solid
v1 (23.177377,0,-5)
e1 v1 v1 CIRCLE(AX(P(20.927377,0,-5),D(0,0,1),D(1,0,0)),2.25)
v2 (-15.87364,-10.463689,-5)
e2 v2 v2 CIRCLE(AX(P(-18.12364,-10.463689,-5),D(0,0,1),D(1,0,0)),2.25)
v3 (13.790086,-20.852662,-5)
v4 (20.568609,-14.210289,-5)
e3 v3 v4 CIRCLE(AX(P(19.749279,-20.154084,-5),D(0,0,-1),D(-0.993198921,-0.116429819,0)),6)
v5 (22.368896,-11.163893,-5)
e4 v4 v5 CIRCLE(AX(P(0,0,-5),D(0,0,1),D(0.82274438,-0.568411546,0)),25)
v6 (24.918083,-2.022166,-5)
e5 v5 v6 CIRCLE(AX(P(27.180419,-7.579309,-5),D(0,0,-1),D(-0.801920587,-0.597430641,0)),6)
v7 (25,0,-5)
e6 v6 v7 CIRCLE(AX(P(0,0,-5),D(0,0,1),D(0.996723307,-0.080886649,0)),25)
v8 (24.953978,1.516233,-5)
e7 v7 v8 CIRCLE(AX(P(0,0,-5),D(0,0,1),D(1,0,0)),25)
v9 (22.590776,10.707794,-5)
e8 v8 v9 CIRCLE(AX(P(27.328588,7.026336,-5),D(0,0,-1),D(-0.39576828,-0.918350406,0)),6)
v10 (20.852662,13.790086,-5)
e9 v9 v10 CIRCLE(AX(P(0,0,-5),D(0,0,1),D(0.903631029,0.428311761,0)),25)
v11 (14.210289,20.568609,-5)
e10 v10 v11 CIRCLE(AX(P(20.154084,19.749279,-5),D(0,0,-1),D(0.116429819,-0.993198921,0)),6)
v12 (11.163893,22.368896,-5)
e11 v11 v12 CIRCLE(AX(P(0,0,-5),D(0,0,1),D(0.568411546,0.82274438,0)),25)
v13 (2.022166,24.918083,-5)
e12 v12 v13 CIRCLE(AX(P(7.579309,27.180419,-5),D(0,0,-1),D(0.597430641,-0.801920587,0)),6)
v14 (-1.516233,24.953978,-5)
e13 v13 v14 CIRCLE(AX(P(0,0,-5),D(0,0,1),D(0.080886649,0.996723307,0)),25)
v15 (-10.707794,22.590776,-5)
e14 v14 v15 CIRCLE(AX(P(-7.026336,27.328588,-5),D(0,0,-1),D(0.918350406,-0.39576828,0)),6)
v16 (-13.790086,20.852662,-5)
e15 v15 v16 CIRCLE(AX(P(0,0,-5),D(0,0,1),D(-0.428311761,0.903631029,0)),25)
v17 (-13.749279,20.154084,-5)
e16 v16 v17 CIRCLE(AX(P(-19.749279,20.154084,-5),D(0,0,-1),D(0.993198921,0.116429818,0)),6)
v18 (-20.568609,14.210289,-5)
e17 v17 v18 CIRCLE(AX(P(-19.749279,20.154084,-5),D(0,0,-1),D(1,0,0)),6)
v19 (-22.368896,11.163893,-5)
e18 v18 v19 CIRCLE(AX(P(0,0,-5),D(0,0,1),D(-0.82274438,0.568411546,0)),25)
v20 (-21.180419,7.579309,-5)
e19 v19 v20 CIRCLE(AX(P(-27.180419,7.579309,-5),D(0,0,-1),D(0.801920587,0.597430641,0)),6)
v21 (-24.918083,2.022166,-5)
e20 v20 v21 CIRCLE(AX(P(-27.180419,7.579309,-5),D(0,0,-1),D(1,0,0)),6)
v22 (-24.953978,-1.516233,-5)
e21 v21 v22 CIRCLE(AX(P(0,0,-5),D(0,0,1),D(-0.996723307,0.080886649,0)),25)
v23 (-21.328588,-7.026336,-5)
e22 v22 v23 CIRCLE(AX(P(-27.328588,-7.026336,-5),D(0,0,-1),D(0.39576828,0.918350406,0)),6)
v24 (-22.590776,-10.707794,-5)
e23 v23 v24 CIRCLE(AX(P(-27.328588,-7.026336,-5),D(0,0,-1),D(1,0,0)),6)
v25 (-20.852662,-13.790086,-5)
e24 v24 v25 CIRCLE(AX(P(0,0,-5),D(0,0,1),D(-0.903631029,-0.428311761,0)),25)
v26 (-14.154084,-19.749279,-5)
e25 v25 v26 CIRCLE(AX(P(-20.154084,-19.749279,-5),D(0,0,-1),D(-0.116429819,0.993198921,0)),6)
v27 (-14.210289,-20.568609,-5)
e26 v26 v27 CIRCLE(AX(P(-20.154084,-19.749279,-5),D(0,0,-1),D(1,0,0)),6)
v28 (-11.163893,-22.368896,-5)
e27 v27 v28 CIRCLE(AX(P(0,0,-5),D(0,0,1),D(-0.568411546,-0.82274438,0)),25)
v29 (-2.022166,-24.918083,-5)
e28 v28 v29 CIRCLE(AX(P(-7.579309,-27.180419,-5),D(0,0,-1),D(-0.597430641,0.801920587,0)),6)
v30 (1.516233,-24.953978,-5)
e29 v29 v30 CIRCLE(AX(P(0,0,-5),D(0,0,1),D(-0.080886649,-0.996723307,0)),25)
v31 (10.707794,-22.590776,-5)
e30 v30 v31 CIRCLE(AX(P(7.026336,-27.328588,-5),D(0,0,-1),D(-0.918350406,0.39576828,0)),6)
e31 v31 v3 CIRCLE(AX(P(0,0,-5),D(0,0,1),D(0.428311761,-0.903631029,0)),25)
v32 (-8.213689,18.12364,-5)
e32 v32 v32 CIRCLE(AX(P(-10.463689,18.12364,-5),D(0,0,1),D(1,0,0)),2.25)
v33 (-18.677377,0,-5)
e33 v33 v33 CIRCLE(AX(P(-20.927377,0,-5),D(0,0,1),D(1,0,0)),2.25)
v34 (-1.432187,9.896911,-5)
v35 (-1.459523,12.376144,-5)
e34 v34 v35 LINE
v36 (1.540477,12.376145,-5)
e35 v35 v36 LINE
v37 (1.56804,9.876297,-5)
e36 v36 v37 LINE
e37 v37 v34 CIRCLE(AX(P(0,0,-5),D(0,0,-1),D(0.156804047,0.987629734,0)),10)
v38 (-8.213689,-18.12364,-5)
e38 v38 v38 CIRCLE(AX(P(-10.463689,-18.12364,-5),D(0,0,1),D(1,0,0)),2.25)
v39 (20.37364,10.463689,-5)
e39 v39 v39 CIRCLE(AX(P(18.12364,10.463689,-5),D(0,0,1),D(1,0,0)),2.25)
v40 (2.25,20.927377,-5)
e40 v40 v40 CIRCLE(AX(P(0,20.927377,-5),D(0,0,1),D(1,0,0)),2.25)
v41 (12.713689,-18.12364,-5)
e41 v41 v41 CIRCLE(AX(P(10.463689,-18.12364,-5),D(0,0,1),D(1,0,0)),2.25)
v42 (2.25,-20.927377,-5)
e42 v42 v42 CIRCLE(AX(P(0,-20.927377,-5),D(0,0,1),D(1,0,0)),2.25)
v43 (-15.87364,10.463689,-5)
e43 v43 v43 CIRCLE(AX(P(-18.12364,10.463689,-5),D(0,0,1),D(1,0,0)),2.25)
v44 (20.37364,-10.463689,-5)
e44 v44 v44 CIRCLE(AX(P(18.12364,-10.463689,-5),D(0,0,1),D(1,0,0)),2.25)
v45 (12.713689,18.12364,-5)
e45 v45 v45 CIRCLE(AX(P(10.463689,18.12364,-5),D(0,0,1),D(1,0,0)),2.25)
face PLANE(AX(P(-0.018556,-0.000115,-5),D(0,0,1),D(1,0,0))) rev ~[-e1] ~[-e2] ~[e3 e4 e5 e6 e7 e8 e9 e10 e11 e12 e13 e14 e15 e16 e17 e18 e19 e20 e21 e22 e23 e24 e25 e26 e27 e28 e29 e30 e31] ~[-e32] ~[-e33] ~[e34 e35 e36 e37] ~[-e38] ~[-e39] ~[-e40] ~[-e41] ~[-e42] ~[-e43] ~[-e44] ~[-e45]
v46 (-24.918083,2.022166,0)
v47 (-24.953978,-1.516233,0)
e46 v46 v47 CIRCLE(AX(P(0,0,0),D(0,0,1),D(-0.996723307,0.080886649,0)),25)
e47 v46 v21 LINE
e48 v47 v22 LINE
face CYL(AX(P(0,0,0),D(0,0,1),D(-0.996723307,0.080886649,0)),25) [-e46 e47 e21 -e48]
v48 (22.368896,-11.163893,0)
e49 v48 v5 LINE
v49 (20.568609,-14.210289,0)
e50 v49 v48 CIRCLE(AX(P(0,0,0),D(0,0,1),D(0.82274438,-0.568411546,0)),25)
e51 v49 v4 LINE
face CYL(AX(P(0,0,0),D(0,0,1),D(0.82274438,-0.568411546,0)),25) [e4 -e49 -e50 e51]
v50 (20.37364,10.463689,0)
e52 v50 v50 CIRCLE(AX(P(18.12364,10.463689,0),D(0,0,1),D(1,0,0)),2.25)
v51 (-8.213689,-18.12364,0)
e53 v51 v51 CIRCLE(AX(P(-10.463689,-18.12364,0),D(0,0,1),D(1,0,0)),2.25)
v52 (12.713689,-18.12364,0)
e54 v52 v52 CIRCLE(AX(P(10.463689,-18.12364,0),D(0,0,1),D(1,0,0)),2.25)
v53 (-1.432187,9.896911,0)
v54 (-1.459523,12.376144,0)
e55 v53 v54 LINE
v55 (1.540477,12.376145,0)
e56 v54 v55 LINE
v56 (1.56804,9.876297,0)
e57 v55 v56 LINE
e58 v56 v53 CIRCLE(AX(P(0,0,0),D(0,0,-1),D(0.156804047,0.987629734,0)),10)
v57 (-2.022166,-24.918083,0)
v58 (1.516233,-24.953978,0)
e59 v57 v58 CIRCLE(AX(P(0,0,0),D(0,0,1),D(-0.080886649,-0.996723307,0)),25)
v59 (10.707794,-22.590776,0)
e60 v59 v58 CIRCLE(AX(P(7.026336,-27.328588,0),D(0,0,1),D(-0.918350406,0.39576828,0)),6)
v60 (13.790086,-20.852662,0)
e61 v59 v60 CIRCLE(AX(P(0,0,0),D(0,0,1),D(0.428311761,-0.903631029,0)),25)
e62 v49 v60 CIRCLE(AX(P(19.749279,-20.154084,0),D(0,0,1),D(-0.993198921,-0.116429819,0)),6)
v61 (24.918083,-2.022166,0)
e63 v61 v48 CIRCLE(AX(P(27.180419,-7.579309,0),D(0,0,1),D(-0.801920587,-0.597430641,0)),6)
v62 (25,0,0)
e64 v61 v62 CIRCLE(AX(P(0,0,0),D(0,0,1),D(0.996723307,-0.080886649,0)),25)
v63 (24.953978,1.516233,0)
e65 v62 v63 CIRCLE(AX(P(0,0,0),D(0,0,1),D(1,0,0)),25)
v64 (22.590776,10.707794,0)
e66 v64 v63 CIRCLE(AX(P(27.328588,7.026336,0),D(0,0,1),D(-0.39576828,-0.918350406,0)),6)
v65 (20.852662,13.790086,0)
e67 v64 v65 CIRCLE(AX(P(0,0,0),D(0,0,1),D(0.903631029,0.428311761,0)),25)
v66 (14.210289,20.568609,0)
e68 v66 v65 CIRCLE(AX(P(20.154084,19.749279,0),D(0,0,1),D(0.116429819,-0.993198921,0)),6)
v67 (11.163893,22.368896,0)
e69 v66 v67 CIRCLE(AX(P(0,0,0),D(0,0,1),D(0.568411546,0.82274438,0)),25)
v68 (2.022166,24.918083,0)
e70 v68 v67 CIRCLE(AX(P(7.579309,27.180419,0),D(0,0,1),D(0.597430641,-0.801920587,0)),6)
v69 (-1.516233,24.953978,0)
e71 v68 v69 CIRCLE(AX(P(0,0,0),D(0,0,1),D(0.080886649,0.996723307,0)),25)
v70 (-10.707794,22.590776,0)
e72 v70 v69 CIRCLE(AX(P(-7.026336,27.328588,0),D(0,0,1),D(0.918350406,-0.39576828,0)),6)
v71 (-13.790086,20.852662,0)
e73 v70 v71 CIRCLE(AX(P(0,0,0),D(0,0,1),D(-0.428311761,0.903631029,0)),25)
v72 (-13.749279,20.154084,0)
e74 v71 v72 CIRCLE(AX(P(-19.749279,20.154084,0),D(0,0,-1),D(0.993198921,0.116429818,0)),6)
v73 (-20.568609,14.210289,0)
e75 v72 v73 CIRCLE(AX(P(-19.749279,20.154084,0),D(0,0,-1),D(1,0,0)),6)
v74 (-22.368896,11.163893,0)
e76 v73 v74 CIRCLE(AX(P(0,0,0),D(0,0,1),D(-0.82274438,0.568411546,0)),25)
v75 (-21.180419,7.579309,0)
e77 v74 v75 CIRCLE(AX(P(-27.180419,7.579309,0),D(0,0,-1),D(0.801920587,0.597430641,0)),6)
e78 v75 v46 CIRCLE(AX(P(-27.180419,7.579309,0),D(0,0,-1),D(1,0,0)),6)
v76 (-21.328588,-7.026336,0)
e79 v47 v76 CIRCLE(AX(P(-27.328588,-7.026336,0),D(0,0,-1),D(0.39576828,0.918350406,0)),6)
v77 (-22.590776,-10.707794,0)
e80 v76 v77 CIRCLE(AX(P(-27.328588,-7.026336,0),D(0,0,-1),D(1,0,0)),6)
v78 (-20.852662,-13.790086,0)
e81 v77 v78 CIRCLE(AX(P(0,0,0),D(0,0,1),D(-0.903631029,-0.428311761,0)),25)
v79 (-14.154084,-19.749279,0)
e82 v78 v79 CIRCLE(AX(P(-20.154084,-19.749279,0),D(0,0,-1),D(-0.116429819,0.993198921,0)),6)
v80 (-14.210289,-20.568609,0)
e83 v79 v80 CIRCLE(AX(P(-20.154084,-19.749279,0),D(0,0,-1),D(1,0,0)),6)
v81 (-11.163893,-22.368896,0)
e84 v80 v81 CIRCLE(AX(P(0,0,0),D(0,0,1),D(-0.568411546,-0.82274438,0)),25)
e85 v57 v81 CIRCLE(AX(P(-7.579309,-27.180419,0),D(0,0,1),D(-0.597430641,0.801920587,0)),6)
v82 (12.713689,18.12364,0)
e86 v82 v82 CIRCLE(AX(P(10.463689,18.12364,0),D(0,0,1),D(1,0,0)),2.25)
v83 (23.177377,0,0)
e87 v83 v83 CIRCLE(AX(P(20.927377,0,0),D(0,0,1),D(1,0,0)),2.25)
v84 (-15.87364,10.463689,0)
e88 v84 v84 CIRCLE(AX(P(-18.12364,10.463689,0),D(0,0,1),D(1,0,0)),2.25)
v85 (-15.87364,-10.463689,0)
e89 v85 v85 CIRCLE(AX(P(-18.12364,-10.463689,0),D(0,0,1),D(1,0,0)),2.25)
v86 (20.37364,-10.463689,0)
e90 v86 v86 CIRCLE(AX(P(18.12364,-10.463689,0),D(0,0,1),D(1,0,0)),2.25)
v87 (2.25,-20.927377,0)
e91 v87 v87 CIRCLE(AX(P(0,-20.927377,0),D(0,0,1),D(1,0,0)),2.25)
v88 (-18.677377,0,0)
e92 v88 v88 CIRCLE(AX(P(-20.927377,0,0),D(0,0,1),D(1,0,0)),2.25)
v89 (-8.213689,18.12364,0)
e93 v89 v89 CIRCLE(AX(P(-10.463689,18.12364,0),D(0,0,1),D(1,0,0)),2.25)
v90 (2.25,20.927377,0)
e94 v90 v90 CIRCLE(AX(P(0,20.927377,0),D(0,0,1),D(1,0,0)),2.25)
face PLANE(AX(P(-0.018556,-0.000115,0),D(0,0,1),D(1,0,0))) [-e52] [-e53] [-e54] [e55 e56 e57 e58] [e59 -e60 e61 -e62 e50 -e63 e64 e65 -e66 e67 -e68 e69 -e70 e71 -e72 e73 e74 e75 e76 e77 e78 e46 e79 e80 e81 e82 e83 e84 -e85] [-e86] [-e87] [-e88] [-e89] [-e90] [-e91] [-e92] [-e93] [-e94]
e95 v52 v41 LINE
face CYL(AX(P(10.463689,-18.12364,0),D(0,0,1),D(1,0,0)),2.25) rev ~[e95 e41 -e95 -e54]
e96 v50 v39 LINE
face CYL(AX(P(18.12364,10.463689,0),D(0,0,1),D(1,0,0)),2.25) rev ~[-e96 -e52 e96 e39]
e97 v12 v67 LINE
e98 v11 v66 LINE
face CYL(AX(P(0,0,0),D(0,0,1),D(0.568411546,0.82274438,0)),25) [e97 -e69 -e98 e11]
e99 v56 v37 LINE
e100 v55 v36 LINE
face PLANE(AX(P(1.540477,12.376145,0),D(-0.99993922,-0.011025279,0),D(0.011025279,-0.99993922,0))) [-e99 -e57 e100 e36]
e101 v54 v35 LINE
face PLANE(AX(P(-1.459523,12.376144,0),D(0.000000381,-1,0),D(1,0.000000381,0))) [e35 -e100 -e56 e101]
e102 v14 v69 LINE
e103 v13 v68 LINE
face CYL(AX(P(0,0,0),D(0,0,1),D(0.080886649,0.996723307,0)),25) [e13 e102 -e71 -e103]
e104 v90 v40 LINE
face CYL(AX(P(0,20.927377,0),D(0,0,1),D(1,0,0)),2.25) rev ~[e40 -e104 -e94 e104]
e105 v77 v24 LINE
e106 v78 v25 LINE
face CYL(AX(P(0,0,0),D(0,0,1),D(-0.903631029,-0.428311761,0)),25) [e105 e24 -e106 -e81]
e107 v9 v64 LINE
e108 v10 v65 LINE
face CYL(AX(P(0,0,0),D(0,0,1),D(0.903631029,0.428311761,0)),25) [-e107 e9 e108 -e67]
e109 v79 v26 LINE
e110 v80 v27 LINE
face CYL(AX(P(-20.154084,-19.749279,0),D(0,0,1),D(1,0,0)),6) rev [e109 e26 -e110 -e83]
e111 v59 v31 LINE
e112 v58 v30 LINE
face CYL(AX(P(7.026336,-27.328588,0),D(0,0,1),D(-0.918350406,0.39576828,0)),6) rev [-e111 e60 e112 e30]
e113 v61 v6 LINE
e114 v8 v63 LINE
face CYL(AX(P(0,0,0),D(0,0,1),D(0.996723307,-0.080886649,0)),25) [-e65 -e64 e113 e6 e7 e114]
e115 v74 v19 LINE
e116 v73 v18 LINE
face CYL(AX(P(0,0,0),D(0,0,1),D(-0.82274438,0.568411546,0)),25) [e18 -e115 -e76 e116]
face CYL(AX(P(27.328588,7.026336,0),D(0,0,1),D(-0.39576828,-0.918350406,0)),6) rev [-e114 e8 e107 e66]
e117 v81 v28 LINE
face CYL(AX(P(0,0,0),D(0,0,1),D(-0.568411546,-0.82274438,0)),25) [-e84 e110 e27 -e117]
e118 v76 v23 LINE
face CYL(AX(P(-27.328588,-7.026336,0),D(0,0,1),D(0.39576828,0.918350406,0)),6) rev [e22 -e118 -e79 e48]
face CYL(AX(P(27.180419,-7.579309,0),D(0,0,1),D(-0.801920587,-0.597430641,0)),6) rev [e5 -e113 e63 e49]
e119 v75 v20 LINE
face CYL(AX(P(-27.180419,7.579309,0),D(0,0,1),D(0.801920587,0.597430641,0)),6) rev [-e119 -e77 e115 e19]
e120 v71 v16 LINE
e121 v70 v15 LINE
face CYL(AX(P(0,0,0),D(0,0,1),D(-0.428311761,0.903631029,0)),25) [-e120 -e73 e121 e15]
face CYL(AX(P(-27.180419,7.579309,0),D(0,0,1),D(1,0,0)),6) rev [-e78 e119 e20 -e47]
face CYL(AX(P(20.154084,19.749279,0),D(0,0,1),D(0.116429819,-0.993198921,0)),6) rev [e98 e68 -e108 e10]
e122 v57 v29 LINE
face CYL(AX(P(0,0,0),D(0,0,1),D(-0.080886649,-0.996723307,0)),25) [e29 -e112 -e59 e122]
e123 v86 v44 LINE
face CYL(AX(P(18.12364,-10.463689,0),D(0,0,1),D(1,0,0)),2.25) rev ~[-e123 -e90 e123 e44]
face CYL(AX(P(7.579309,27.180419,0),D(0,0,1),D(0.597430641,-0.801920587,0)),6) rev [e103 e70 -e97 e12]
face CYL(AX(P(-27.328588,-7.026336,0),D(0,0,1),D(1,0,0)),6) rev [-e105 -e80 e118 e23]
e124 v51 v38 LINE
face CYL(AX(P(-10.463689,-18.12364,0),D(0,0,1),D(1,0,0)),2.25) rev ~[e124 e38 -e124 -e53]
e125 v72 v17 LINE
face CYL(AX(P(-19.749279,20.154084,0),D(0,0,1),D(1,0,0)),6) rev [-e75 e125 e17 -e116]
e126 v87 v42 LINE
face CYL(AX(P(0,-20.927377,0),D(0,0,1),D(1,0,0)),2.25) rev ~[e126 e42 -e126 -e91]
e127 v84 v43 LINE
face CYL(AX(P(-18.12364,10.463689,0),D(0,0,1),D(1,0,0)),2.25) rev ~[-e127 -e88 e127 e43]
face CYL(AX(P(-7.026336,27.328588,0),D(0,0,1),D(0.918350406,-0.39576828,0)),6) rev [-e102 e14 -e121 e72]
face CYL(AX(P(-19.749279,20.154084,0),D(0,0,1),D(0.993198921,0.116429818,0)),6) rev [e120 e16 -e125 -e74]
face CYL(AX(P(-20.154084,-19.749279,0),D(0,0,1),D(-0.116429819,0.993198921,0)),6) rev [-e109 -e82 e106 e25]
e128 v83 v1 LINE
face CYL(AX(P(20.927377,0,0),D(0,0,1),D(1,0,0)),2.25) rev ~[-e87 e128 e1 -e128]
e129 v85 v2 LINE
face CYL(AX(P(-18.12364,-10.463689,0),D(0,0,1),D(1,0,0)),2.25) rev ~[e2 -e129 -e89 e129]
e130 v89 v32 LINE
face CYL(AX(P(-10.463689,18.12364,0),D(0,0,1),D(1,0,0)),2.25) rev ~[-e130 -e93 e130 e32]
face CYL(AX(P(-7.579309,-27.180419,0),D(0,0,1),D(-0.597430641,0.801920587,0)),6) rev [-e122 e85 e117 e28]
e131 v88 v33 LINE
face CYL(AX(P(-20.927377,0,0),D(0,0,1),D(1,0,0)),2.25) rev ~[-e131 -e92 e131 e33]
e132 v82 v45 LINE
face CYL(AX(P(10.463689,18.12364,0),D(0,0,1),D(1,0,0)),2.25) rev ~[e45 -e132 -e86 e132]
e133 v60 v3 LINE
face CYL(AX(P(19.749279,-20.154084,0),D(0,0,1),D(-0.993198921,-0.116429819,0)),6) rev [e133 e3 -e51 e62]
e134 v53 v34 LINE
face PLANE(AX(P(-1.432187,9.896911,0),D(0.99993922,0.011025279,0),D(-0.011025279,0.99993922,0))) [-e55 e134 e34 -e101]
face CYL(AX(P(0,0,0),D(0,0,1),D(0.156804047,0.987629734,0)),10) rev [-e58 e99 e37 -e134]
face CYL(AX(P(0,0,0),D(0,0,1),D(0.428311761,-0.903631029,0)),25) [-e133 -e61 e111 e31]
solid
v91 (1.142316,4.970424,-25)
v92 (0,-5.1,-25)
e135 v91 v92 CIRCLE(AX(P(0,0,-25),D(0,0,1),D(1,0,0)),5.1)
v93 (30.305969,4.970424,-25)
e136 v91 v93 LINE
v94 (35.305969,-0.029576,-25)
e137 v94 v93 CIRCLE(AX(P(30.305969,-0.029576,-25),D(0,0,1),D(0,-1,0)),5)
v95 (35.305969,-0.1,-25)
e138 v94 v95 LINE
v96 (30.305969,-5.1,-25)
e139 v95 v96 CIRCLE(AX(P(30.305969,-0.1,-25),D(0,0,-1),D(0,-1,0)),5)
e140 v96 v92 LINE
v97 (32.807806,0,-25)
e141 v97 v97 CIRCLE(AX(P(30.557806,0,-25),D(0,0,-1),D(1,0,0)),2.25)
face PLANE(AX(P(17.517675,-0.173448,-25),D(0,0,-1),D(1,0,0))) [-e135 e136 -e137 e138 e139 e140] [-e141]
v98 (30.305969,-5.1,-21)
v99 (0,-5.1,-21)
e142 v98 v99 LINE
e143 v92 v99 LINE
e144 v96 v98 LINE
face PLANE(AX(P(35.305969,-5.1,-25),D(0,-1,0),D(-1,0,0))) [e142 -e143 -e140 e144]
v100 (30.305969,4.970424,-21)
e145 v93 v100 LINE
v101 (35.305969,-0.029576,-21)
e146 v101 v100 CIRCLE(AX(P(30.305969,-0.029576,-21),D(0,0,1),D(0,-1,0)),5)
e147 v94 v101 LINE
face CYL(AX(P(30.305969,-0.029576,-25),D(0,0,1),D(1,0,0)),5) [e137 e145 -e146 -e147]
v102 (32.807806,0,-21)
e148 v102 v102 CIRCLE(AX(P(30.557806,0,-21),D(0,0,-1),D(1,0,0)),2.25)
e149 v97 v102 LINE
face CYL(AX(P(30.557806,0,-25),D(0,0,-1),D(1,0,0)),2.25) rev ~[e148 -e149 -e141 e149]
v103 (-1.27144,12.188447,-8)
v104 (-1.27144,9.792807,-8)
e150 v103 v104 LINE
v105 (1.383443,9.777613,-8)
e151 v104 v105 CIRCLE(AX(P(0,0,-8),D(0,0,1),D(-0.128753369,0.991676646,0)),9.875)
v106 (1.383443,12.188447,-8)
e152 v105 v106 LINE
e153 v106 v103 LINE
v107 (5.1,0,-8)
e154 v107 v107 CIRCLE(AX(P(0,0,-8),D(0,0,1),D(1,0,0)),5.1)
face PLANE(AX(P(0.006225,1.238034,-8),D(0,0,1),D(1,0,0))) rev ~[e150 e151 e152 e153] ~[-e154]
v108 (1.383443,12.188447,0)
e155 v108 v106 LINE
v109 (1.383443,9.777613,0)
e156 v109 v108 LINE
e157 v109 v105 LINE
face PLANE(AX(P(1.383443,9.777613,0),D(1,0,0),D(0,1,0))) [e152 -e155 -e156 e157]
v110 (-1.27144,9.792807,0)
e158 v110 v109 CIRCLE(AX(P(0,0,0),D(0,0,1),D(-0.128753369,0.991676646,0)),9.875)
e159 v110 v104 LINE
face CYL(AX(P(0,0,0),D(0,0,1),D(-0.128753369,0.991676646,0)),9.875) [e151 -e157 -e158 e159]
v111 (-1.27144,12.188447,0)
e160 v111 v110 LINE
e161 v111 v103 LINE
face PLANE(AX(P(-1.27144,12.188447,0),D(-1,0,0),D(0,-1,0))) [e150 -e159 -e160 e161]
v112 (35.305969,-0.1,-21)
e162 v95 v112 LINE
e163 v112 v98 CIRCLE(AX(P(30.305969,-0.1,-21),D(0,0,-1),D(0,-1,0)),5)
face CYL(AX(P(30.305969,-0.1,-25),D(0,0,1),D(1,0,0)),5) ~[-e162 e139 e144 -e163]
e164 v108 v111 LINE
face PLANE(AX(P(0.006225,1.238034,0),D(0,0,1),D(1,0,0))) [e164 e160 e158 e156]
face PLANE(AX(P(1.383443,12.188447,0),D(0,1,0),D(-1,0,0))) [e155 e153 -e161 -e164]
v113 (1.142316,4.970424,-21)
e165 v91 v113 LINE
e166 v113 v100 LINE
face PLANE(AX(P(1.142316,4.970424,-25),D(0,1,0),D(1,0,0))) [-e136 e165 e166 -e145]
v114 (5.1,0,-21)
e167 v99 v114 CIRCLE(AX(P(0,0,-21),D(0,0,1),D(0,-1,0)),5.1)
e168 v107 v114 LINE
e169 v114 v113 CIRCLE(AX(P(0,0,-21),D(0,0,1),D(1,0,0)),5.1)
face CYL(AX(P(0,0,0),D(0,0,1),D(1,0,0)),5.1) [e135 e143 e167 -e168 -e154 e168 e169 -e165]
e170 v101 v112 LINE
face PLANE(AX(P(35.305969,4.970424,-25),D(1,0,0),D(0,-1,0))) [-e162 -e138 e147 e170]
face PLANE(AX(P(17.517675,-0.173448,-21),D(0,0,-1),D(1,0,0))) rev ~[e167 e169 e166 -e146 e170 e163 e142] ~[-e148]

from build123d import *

# Parameters (mm, degrees)
F1_DEPTH      = 5
F1_DEPTH_BACK = 5
F2_DEPTH      = 70
F3_R          = 2.25
F4_DEPTH      = 5.001
F5_DEPTH      = 25
F6_R          = 5.1
F7_DEPTH      = 8
F8_DEPTH      = 25
F10_DEPTH     = 4
F11_R         = 2.25
F12_DEPTH     = 5
F13_R         = 5
F14_R         = 5


with BuildPart() as f1:
    # F0 (on Top) → F1 (new body, two sides)
    with BuildSketch(Plane.XY) as f1_sk:
        with BuildLine():
            ThreePointArc((24.9180826663, -2.0221662229), (24.9795122716, -1.0119123829), (25, 0))
            ThreePointArc((25, 0), (24.9884919428, 0.7584658374), (24.9539783659, 1.5162333974))
            ThreePointArc((24.9539783659, 1.5162333974), (21.5175783777, 5.5322921108), (22.5907757141, 10.7077940135))
            ThreePointArc((22.5907757141, 10.7077940135), (21.7763222672, 12.2797307998), (20.8526624916, 13.7900858231))
            ThreePointArc((20.8526624916, 13.7900858231), (15.8686234476, 15.5498946979), (14.2102886529, 20.5686094912))
            ThreePointArc((14.2102886529, 20.5686094912), (12.7189828845, 21.5227199579), (11.1638925427, 22.368895889))
            ThreePointArc((11.1638925427, 22.368895889), (5.9676836798, 21.4009155584), (2.0221662229, 24.9180826663))
            ThreePointArc((2.0221662229, 24.9180826663), (0.2536023093, 24.9987136843), (-1.5162333974, 24.9539783659))
            ThreePointArc((-1.5162333974, 24.9539783659), (-5.5322921108, 21.5175783777), (-10.7077940135, 22.5907757141))
            ThreePointArc((-10.7077940135, 22.5907757141), (-12.2797307998, 21.7763222672), (-13.7900858231, 20.8526624916))
            ThreePointArc((-13.7900858231, 20.8526624916), (-13.7594896566, 20.5039684404), (-13.749279351, 20.1540835788))
            ThreePointArc((-13.749279351, 20.1540835788), (-15.8069438022, 15.6310325708), (-20.5686094912, 14.2102886529))
            ThreePointArc((-20.5686094912, 14.2102886529), (-21.5227199579, 12.7189828845), (-22.368895889, 11.1638925427))
            ThreePointArc((-22.368895889, 11.1638925427), (-21.4852837197, 9.4675431669), (-21.1804194138, 7.5793086937))
            ThreePointArc((-21.1804194138, 7.5793086937), (-22.2017639485, 4.2307284337), (-24.9180826663, 2.0221662229))
            ThreePointArc((-24.9180826663, 2.0221662229), (-24.9987136843, 0.2536023093), (-24.9539783659, -1.5162333974))
            ThreePointArc((-24.9539783659, -1.5162333974), (-22.3162204368, -3.7284318092), (-21.3285880447, -7.026335835))
            ThreePointArc((-21.3285880447, -7.026335835), (-21.6528998052, -8.9722451361), (-22.5907757141, -10.7077940135))
            ThreePointArc((-22.5907757141, -10.7077940135), (-21.7763222672, -12.2797307998), (-20.8526624916, -13.7900858231))
            ThreePointArc((-20.8526624916, -13.7900858231), (-16.1660686263, -15.2664524819), (-14.1540835788, -19.749279351))
            ThreePointArc((-14.1540835788, -19.749279351), (-14.1681513391, -20.1599071901), (-14.2102886529, -20.5686094912))
            ThreePointArc((-14.2102886529, -20.5686094912), (-12.7189828845, -21.5227199579), (-11.1638925427, -22.368895889))
            ThreePointArc((-11.1638925427, -22.368895889), (-5.9676836798, -21.4009155584), (-2.0221662229, -24.9180826663))
            ThreePointArc((-2.0221662229, -24.9180826663), (-0.2536023093, -24.9987136843), (1.5162333974, -24.9539783659))
            ThreePointArc((1.5162333974, -24.9539783659), (5.5322921108, -21.5175783777), (10.7077940135, -22.5907757141))
            ThreePointArc((10.7077940135, -22.5907757141), (12.2797307998, -21.7763222672), (13.7900858231, -20.8526624916))
            ThreePointArc((13.7900858231, -20.8526624916), (15.5498946979, -15.8686234476), (20.5686094912, -14.2102886529))
            ThreePointArc((20.5686094912, -14.2102886529), (21.5227199579, -12.7189828845), (22.368895889, -11.1638925427))
            ThreePointArc((22.368895889, -11.1638925427), (21.4009155584, -5.9676836798), (24.9180826663, -2.0221662229))
        make_face()
        with BuildLine():
            ThreePointArc((1.5680404719, 9.8762973365), (-0.0687043009, -9.9997639832), (-1.4321868223, 9.8969106749))
            Line((-1.4321868223, 9.8969106749), (-1.4595227249, 12.3761442437))
            Line((-1.4595227249, 12.3761442437), (1.5404772751, 12.3761453859))
            Line((1.5404772751, 12.3761453859), (1.5680404719, 9.8762973365))
        make_face(mode=Mode.SUBTRACT)
    extrude(amount=F1_DEPTH)
    extrude(f1_sk.sketch, amount=-F1_DEPTH_BACK)

    # F0 (on Top) → F2 (cut)
    with BuildSketch(Plane.XY):
        with BuildLine():
            ThreePointArc((24.9180826663, -2.0221662229), (24.9795122716, -1.0119123829), (25, 0))
            ThreePointArc((25, 0), (24.9884919428, 0.7584658374), (24.9539783659, 1.5162333974))
            ThreePointArc((24.9539783659, 1.5162333974), (21.5175783777, 5.5322921108), (22.5907757141, 10.7077940135))
            ThreePointArc((22.5907757141, 10.7077940135), (21.7763222672, 12.2797307998), (20.8526624916, 13.7900858231))
            ThreePointArc((20.8526624916, 13.7900858231), (15.8686234476, 15.5498946979), (14.2102886529, 20.5686094912))
            ThreePointArc((14.2102886529, 20.5686094912), (12.7189828845, 21.5227199579), (11.1638925427, 22.368895889))
            ThreePointArc((11.1638925427, 22.368895889), (5.9676836798, 21.4009155584), (2.0221662229, 24.9180826663))
            ThreePointArc((2.0221662229, 24.9180826663), (0.2536023093, 24.9987136843), (-1.5162333974, 24.9539783659))
            ThreePointArc((-1.5162333974, 24.9539783659), (-5.5322921108, 21.5175783777), (-10.7077940135, 22.5907757141))
            ThreePointArc((-10.7077940135, 22.5907757141), (-12.2797307998, 21.7763222672), (-13.7900858231, 20.8526624916))
            ThreePointArc((-13.7900858231, 20.8526624916), (-13.7594896566, 20.5039684404), (-13.749279351, 20.1540835788))
            ThreePointArc((-13.749279351, 20.1540835788), (-15.8069438022, 15.6310325708), (-20.5686094912, 14.2102886529))
            ThreePointArc((-20.5686094912, 14.2102886529), (-21.5227199579, 12.7189828845), (-22.368895889, 11.1638925427))
            ThreePointArc((-22.368895889, 11.1638925427), (-21.4852837197, 9.4675431669), (-21.1804194138, 7.5793086937))
            ThreePointArc((-21.1804194138, 7.5793086937), (-22.2017639485, 4.2307284337), (-24.9180826663, 2.0221662229))
            ThreePointArc((-24.9180826663, 2.0221662229), (-24.9987136843, 0.2536023093), (-24.9539783659, -1.5162333974))
            ThreePointArc((-24.9539783659, -1.5162333974), (-22.3162204368, -3.7284318092), (-21.3285880447, -7.026335835))
            ThreePointArc((-21.3285880447, -7.026335835), (-21.6528998052, -8.9722451361), (-22.5907757141, -10.7077940135))
            ThreePointArc((-22.5907757141, -10.7077940135), (-21.7763222672, -12.2797307998), (-20.8526624916, -13.7900858231))
            ThreePointArc((-20.8526624916, -13.7900858231), (-16.1660686263, -15.2664524819), (-14.1540835788, -19.749279351))
            ThreePointArc((-14.1540835788, -19.749279351), (-14.1681513391, -20.1599071901), (-14.2102886529, -20.5686094912))
            ThreePointArc((-14.2102886529, -20.5686094912), (-12.7189828845, -21.5227199579), (-11.1638925427, -22.368895889))
            ThreePointArc((-11.1638925427, -22.368895889), (-5.9676836798, -21.4009155584), (-2.0221662229, -24.9180826663))
            ThreePointArc((-2.0221662229, -24.9180826663), (-0.2536023093, -24.9987136843), (1.5162333974, -24.9539783659))
            ThreePointArc((1.5162333974, -24.9539783659), (5.5322921108, -21.5175783777), (10.7077940135, -22.5907757141))
            ThreePointArc((10.7077940135, -22.5907757141), (12.2797307998, -21.7763222672), (13.7900858231, -20.8526624916))
            ThreePointArc((13.7900858231, -20.8526624916), (15.5498946979, -15.8686234476), (20.5686094912, -14.2102886529))
            ThreePointArc((20.5686094912, -14.2102886529), (21.5227199579, -12.7189828845), (22.368895889, -11.1638925427))
            ThreePointArc((22.368895889, -11.1638925427), (21.4009155584, -5.9676836798), (24.9180826663, -2.0221662229))
        make_face()
        with BuildLine():
            ThreePointArc((1.5680404719, 9.8762973365), (-0.0687043009, -9.9997639832), (-1.4321868223, 9.8969106749))
            Line((-1.4321868223, 9.8969106749), (-1.4595227249, 12.3761442437))
            Line((-1.4595227249, 12.3761442437), (1.5404772751, 12.3761453859))
            Line((1.5404772751, 12.3761453859), (1.5680404719, 9.8762973365))
        make_face(mode=Mode.SUBTRACT)
        with BuildLine():
            ThreePointArc((22.5907757141, 10.7077940135), (21.5175783777, 5.5322921108), (24.9539783659, 1.5162333974))
            ThreePointArc((24.9539783659, 1.5162333974), (24.2125402792, 6.2251821844), (22.5907757141, 10.7077940135))
        make_face()
        with BuildLine():
            ThreePointArc((22.5907757141, 10.7077940135), (24.2125402792, 6.2251821844), (24.9539783659, 1.5162333974))
            ThreePointArc((24.9539783659, 1.5162333974), (30.6264920705, 2.0139682271), (33.3285880447, 7.026335835))
            ThreePointArc((33.3285880447, 7.026335835), (29.2744973458, 12.7020240745), (22.5907757141, 10.7077940135))
        make_face()
        with BuildLine():
            ThreePointArc((33.1804194138, -7.5793086937), (30.5289996738, -2.6006532284), (24.9180826663, -2.0221662229))
            ThreePointArc((24.9180826663, -2.0221662229), (24.0812660641, -6.7151042247), (22.368895889, -11.1638925427))
            ThreePointArc((22.368895889, -11.1638925427), (29.068653887, -13.2744443878), (33.1804194138, -7.5793086937))
        make_face()
        with BuildLine():
            ThreePointArc((22.368895889, -11.1638925427), (24.0812660641, -6.7151042247), (24.9180826663, -2.0221662229))
            ThreePointArc((24.9180826663, -2.0221662229), (21.4009155584, -5.9676836798), (22.368895889, -11.1638925427))
        make_face()
        with BuildLine():
            ThreePointArc((14.2102886529, 20.5686094912), (15.8686234476, 15.5498946979), (20.8526624916, 13.7900858231))
            ThreePointArc((20.8526624916, 13.7900858231), (17.8560838797, 17.4974360545), (14.2102886529, 20.5686094912))
        make_face()
        with BuildLine():
            ThreePointArc((14.2102886529, 20.5686094912), (17.8560838797, 17.4974360545), (20.8526624916, 13.7900858231))
            ThreePointArc((20.8526624916, 13.7900858231), (24.6369104479, 15.7612643985), (26.1540835788, 19.749279351))
            ThreePointArc((26.1540835788, 19.749279351), (20.5647114179, 25.7352115907), (14.2102886529, 20.5686094912))
        make_face()
        with BuildLine():
            ThreePointArc((25.749279351, -20.1540835788), (24.272330359, -16.21174803), (20.5686094912, -14.2102886529))
            ThreePointArc((20.5686094912, -14.2102886529), (17.4974360545, -17.8560838797), (13.7900858231, -20.8526624916))
            ThreePointArc((13.7900858231, -20.8526624916), (20.0991642127, -26.1438732732), (25.749279351, -20.1540835788))
        make_face()
        with BuildLine():
            ThreePointArc((13.7900858231, -20.8526624916), (17.4974360545, -17.8560838797), (20.5686094912, -14.2102886529))
            ThreePointArc((20.5686094912, -14.2102886529), (15.5498946979, -15.8686234476), (13.7900858231, -20.8526624916))
        make_face()
        with BuildLine():
            ThreePointArc((2.0221662229, 24.9180826663), (5.9676836798, 21.4009155584), (11.1638925427, 22.368895889))
            ThreePointArc((11.1638925427, 22.368895889), (6.7151042247, 24.0812660641), (2.0221662229, 24.9180826663))
        make_face()
        with BuildLine():
            ThreePointArc((2.0221662229, 24.9180826663), (6.7151042247, 24.0812660641), (11.1638925427, 22.368895889))
            ThreePointArc((11.1638925427, 22.368895889), (12.9415611633, 24.4885337452), (13.5793086937, 27.1804194138))
            ThreePointArc((13.5793086937, 27.1804194138), (6.4266714622, 33.0686642637), (2.0221662229, 24.9180826663))
        make_face()
        with BuildLine():
            ThreePointArc((13.026335835, -27.3285880447), (12.4156191394, -24.6912360651), (10.7077940135, -22.5907757141))
            ThreePointArc((10.7077940135, -22.5907757141), (6.2251821844, -24.2125402792), (1.5162333974, -24.9539783659))
            ThreePointArc((1.5162333974, -24.9539783659), (5.81402701, -33.2048374704), (13.026335835, -27.3285880447))
        make_face()
        with BuildLine():
            ThreePointArc((1.5162333974, -24.9539783659), (6.2251821844, -24.2125402792), (10.7077940135, -22.5907757141))
            ThreePointArc((10.7077940135, -22.5907757141), (5.5322921108, -21.5175783777), (1.5162333974, -24.9539783659))
        make_face()
        with BuildLine():
            ThreePointArc((-10.7077940135, 22.5907757141), (-5.5322921108, 21.5175783777), (-1.5162333974, 24.9539783659))
            ThreePointArc((-1.5162333974, 24.9539783659), (-6.2251821844, 24.2125402792), (-10.7077940135, 22.5907757141))
        make_face()
        with BuildLine():
            ThreePointArc((-10.7077940135, 22.5907757141), (-6.2251821844, 24.2125402792), (-1.5162333974, 24.9539783659))
            ThreePointArc((-1.5162333974, 24.9539783659), (-1.1500864093, 26.1162792197), (-1.026335835, 27.3285880447))
            ThreePointArc((-1.026335835, 27.3285880447), (-9.6636878147, 32.7178713492), (-10.7077940135, 22.5907757141))
        make_face()
        with BuildLine():
            ThreePointArc((-1.5793086937, -27.1804194138), (-1.6910638438, -26.0277821823), (-2.0221662229, -24.9180826663))
            ThreePointArc((-2.0221662229, -24.9180826663), (-6.7151042247, -24.0812660641), (-11.1638925427, -22.368895889))
            ThreePointArc((-11.1638925427, -22.368895889), (-10.2711943623, -32.5426718833), (-1.5793086937, -27.1804194138))
        make_face()
        with BuildLine():
            ThreePointArc((-11.1638925427, -22.368895889), (-6.7151042247, -24.0812660641), (-2.0221662229, -24.9180826663))
            ThreePointArc((-2.0221662229, -24.9180826663), (-5.9676836798, -21.4009155584), (-11.1638925427, -22.368895889))
        make_face()
        with BuildLine():
            ThreePointArc((-13.749279351, 20.1540835788), (-13.7594896566, 20.5039684404), (-13.7900858231, 20.8526624916))
            ThreePointArc((-13.7900858231, 20.8526624916), (-17.4974360545, 17.8560838797), (-20.5686094912, 14.2102886529))
            ThreePointArc((-20.5686094912, 14.2102886529), (-15.8069438022, 15.6310325708), (-13.749279351, 20.1540835788))
        make_face()
        with BuildLine():
            ThreePointArc((-20.5686094912, 14.2102886529), (-17.4974360545, 17.8560838797), (-13.7900858231, 20.8526624916))
            ThreePointArc((-13.7900858231, 20.8526624916), (-23.9486640041, 24.4395437099), (-20.5686094912, 14.2102886529))
        make_face()
        with BuildLine():
            ThreePointArc((-20.8526624916, -13.7900858231), (-24.4395437099, -23.9486640041), (-14.2102886529, -20.5686094912))
            ThreePointArc((-14.2102886529, -20.5686094912), (-17.8560838797, -17.4974360545), (-20.8526624916, -13.7900858231))
        make_face()
        with BuildLine():
            ThreePointArc((-20.8526624916, -13.7900858231), (-17.8560838797, -17.4974360545), (-14.2102886529, -20.5686094912))
            ThreePointArc((-14.2102886529, -20.5686094912), (-14.1681513391, -20.1599071901), (-14.1540835788, -19.749279351))
            ThreePointArc((-14.1540835788, -19.749279351), (-16.1660686263, -15.2664524819), (-20.8526624916, -13.7900858231))
        make_face()
        with BuildLine():
            ThreePointArc((-21.1804194138, 7.5793086937), (-21.4852837197, 9.4675431669), (-22.368895889, 11.1638925427))
            ThreePointArc((-22.368895889, 11.1638925427), (-24.0812660641, 6.7151042247), (-24.9180826663, 2.0221662229))
            ThreePointArc((-24.9180826663, 2.0221662229), (-22.2017639485, 4.2307284337), (-21.1804194138, 7.5793086937))
        make_face()
        with BuildLine():
            ThreePointArc((-24.9180826663, 2.0221662229), (-24.0812660641, 6.7151042247), (-22.368895889, 11.1638925427))
            ThreePointArc((-22.368895889, 11.1638925427), (-32.9599232692, 9.1909337077), (-24.9180826663, 2.0221662229))
        make_face()
        with BuildLine():
            ThreePointArc((-24.9539783659, -1.5162333974), (-33.1395977117, -8.5203795593), (-22.5907757141, -10.7077940135))
            ThreePointArc((-22.5907757141, -10.7077940135), (-24.2125402792, -6.2251821844), (-24.9539783659, -1.5162333974))
        make_face()
        with BuildLine():
            ThreePointArc((-24.9539783659, -1.5162333974), (-24.2125402792, -6.2251821844), (-22.5907757141, -10.7077940135))
            ThreePointArc((-22.5907757141, -10.7077940135), (-21.6528998052, -8.9722451361), (-21.3285880447, -7.026335835))
            ThreePointArc((-21.3285880447, -7.026335835), (-22.3162204368, -3.7284318092), (-24.9539783659, -1.5162333974))
        make_face()
    extrude(amount=F2_DEPTH, mode=Mode.SUBTRACT)

    # F3 (on Top) → F4 (cut, through all)
    with BuildSketch(Plane.XY):
        with Locations((-20.9273770452, 0)):
            Circle(F3_R)
        with Locations((-18.1236401557, -10.4636885226)):
            Circle(F3_R)
        with Locations((-10.4636885226, -18.1236401557)):
            Circle(F3_R)
        with Locations((0, -20.9273770452)):
            Circle(F3_R)
        with Locations((10.4636885226, -18.1236401557)):
            Circle(F3_R)
        with Locations((18.1236401557, -10.4636885226)):
            Circle(F3_R)
        with Locations((20.9273770452, 0)):
            Circle(F3_R)
        with Locations((18.1236401557, 10.4636885226)):
            Circle(F3_R)
        with Locations((10.4636885226, 18.1236401557)):
            Circle(F3_R)
        with Locations((0, 20.9273770452)):
            Circle(F3_R)
        with Locations((-10.4636885226, 18.1236401557)):
            Circle(F3_R)
        with Locations((-18.1236401557, 10.4636885226)):
            Circle(F3_R)
    extrude(amount=-F4_DEPTH, mode=Mode.SUBTRACT)

    # F0 (on Top) → F5 (cut)
    with BuildSketch(Plane.XY):
        with BuildLine():
            ThreePointArc((-11.1638925427, -22.368895889), (-6.7151042247, -24.0812660641), (-2.0221662229, -24.9180826663))
            ThreePointArc((-2.0221662229, -24.9180826663), (-5.9676836798, -21.4009155584), (-11.1638925427, -22.368895889))
        make_face()
        with BuildLine():
            ThreePointArc((-20.5686094912, 14.2102886529), (-17.4974360545, 17.8560838797), (-13.7900858231, 20.8526624916))
            ThreePointArc((-13.7900858231, 20.8526624916), (-23.9486640041, 24.4395437099), (-20.5686094912, 14.2102886529))
        make_face()
        with BuildLine():
            ThreePointArc((-21.1804194138, 7.5793086937), (-21.4852837197, 9.4675431669), (-22.368895889, 11.1638925427))
            ThreePointArc((-22.368895889, 11.1638925427), (-24.0812660641, 6.7151042247), (-24.9180826663, 2.0221662229))
            ThreePointArc((-24.9180826663, 2.0221662229), (-22.2017639485, 4.2307284337), (-21.1804194138, 7.5793086937))
        make_face()
        with BuildLine():
            ThreePointArc((-24.9180826663, 2.0221662229), (-24.0812660641, 6.7151042247), (-22.368895889, 11.1638925427))
            ThreePointArc((-22.368895889, 11.1638925427), (-32.9599232692, 9.1909337077), (-24.9180826663, 2.0221662229))
        make_face()
        with BuildLine():
            ThreePointArc((-13.749279351, 20.1540835788), (-13.7594896566, 20.5039684404), (-13.7900858231, 20.8526624916))
            ThreePointArc((-13.7900858231, 20.8526624916), (-17.4974360545, 17.8560838797), (-20.5686094912, 14.2102886529))
            ThreePointArc((-20.5686094912, 14.2102886529), (-15.8069438022, 15.6310325708), (-13.749279351, 20.1540835788))
        make_face()
        with BuildLine():
            ThreePointArc((-10.7077940135, 22.5907757141), (-5.5322921108, 21.5175783777), (-1.5162333974, 24.9539783659))
            ThreePointArc((-1.5162333974, 24.9539783659), (-6.2251821844, 24.2125402792), (-10.7077940135, 22.5907757141))
        make_face()
        with BuildLine():
            ThreePointArc((-10.7077940135, 22.5907757141), (-6.2251821844, 24.2125402792), (-1.5162333974, 24.9539783659))
            ThreePointArc((-1.5162333974, 24.9539783659), (-1.1500864093, 26.1162792197), (-1.026335835, 27.3285880447))
            ThreePointArc((-1.026335835, 27.3285880447), (-9.6636878147, 32.7178713492), (-10.7077940135, 22.5907757141))
        make_face()
        with BuildLine():
            ThreePointArc((2.0221662229, 24.9180826663), (5.9676836798, 21.4009155584), (11.1638925427, 22.368895889))
            ThreePointArc((11.1638925427, 22.368895889), (6.7151042247, 24.0812660641), (2.0221662229, 24.9180826663))
        make_face()
        with BuildLine():
            ThreePointArc((2.0221662229, 24.9180826663), (6.7151042247, 24.0812660641), (11.1638925427, 22.368895889))
            ThreePointArc((11.1638925427, 22.368895889), (12.9415611633, 24.4885337452), (13.5793086937, 27.1804194138))
            ThreePointArc((13.5793086937, 27.1804194138), (6.4266714622, 33.0686642637), (2.0221662229, 24.9180826663))
        make_face()
        with BuildLine():
            ThreePointArc((14.2102886529, 20.5686094912), (15.8686234476, 15.5498946979), (20.8526624916, 13.7900858231))
            ThreePointArc((20.8526624916, 13.7900858231), (17.8560838797, 17.4974360545), (14.2102886529, 20.5686094912))
        make_face()
        with BuildLine():
            ThreePointArc((14.2102886529, 20.5686094912), (17.8560838797, 17.4974360545), (20.8526624916, 13.7900858231))
            ThreePointArc((20.8526624916, 13.7900858231), (24.6369104479, 15.7612643985), (26.1540835788, 19.749279351))
            ThreePointArc((26.1540835788, 19.749279351), (20.5647114179, 25.7352115907), (14.2102886529, 20.5686094912))
        make_face()
        with BuildLine():
            ThreePointArc((22.5907757141, 10.7077940135), (21.5175783777, 5.5322921108), (24.9539783659, 1.5162333974))
            ThreePointArc((24.9539783659, 1.5162333974), (24.2125402792, 6.2251821844), (22.5907757141, 10.7077940135))
        make_face()
        with BuildLine():
            ThreePointArc((22.5907757141, 10.7077940135), (24.2125402792, 6.2251821844), (24.9539783659, 1.5162333974))
            ThreePointArc((24.9539783659, 1.5162333974), (30.6264920705, 2.0139682271), (33.3285880447, 7.026335835))
            ThreePointArc((33.3285880447, 7.026335835), (29.2744973458, 12.7020240745), (22.5907757141, 10.7077940135))
        make_face()
        with BuildLine():
            ThreePointArc((33.1804194138, -7.5793086937), (30.5289996738, -2.6006532284), (24.9180826663, -2.0221662229))
            ThreePointArc((24.9180826663, -2.0221662229), (24.0812660641, -6.7151042247), (22.368895889, -11.1638925427))
            ThreePointArc((22.368895889, -11.1638925427), (29.068653887, -13.2744443878), (33.1804194138, -7.5793086937))
        make_face()
        with BuildLine():
            ThreePointArc((22.368895889, -11.1638925427), (24.0812660641, -6.7151042247), (24.9180826663, -2.0221662229))
            ThreePointArc((24.9180826663, -2.0221662229), (21.4009155584, -5.9676836798), (22.368895889, -11.1638925427))
        make_face()
        with BuildLine():
            ThreePointArc((13.7900858231, -20.8526624916), (17.4974360545, -17.8560838797), (20.5686094912, -14.2102886529))
            ThreePointArc((20.5686094912, -14.2102886529), (15.5498946979, -15.8686234476), (13.7900858231, -20.8526624916))
        make_face()
        with BuildLine():
            ThreePointArc((25.749279351, -20.1540835788), (24.272330359, -16.21174803), (20.5686094912, -14.2102886529))
            ThreePointArc((20.5686094912, -14.2102886529), (17.4974360545, -17.8560838797), (13.7900858231, -20.8526624916))
            ThreePointArc((13.7900858231, -20.8526624916), (20.0991642127, -26.1438732732), (25.749279351, -20.1540835788))
        make_face()
        with BuildLine():
            ThreePointArc((1.5162333974, -24.9539783659), (6.2251821844, -24.2125402792), (10.7077940135, -22.5907757141))
            ThreePointArc((10.7077940135, -22.5907757141), (5.5322921108, -21.5175783777), (1.5162333974, -24.9539783659))
        make_face()
        with BuildLine():
            ThreePointArc((13.026335835, -27.3285880447), (12.4156191394, -24.6912360651), (10.7077940135, -22.5907757141))
            ThreePointArc((10.7077940135, -22.5907757141), (6.2251821844, -24.2125402792), (1.5162333974, -24.9539783659))
            ThreePointArc((1.5162333974, -24.9539783659), (5.81402701, -33.2048374704), (13.026335835, -27.3285880447))
        make_face()
        with BuildLine():
            ThreePointArc((-1.5793086937, -27.1804194138), (-1.6910638438, -26.0277821823), (-2.0221662229, -24.9180826663))
            ThreePointArc((-2.0221662229, -24.9180826663), (-6.7151042247, -24.0812660641), (-11.1638925427, -22.368895889))
            ThreePointArc((-11.1638925427, -22.368895889), (-10.2711943623, -32.5426718833), (-1.5793086937, -27.1804194138))
        make_face()
        with BuildLine():
            ThreePointArc((-20.8526624916, -13.7900858231), (-24.4395437099, -23.9486640041), (-14.2102886529, -20.5686094912))
            ThreePointArc((-14.2102886529, -20.5686094912), (-17.8560838797, -17.4974360545), (-20.8526624916, -13.7900858231))
        make_face()
        with BuildLine():
            ThreePointArc((-20.8526624916, -13.7900858231), (-17.8560838797, -17.4974360545), (-14.2102886529, -20.5686094912))
            ThreePointArc((-14.2102886529, -20.5686094912), (-14.1681513391, -20.1599071901), (-14.1540835788, -19.749279351))
            ThreePointArc((-14.1540835788, -19.749279351), (-16.1660686263, -15.2664524819), (-20.8526624916, -13.7900858231))
        make_face()
        with BuildLine():
            ThreePointArc((-24.9539783659, -1.5162333974), (-33.1395977117, -8.5203795593), (-22.5907757141, -10.7077940135))
            ThreePointArc((-22.5907757141, -10.7077940135), (-24.2125402792, -6.2251821844), (-24.9539783659, -1.5162333974))
        make_face()
        with BuildLine():
            ThreePointArc((-24.9539783659, -1.5162333974), (-24.2125402792, -6.2251821844), (-22.5907757141, -10.7077940135))
            ThreePointArc((-22.5907757141, -10.7077940135), (-21.6528998052, -8.9722451361), (-21.3285880447, -7.026335835))
            ThreePointArc((-21.3285880447, -7.026335835), (-22.3162204368, -3.7284318092), (-24.9539783659, -1.5162333974))
        make_face()
    extrude(amount=-F5_DEPTH, mode=Mode.SUBTRACT)


with BuildPart() as f7:
    # F6 (on Top) → F7 (new body)
    with BuildSketch(Plane.XY):
        with BuildLine():
            Line((-1.2714395145, 12.188446708), (-1.2714395145, 9.7928068786))
            ThreePointArc((-1.2714395145, 9.7928068786), (-0.0565146646, -9.8748382818), (1.3834429386, 9.7776127268))
            Line((1.3834429386, 9.7776127268), (1.3834429386, 12.188446708))
            Line((1.3834429386, 12.188446708), (-1.2714395145, 12.188446708))
        make_face()
        Circle(F6_R, mode=Mode.SUBTRACT)
    extrude(amount=-F7_DEPTH)

    # F6 (on Top) → F8 (join)
    with BuildSketch(Plane.XY):
        Circle(F6_R)
    extrude(amount=-F8_DEPTH)

    # F9 (on face) → F10 (join)
    with BuildSketch(Plane(origin=(0, 0, -25), x_dir=(1, 0, 0), z_dir=(0, 0, -1))):
        with BuildLine():
            Line((35.3059694171, 5.1), (0, 5.1))
            ThreePointArc((0, 5.1), (3.6062445841, 3.6062445841), (5.1, 0))
            ThreePointArc((5.1, 0), (3.9897251172, -3.1768055479), (1.1423162787, -4.9704238772))
            Line((1.1423162787, -4.9704238772), (35.3059694171, -4.9704238772))
            Line((35.3059694171, -4.9704238772), (35.3059694171, 5.1))
        make_face()
    extrude(amount=-F10_DEPTH)

    # F11 (on face) → F12 (cut)
    with BuildSketch(Plane(origin=(0, 0, -25), x_dir=(1, 0, 0), z_dir=(0, 0, -1))):
        with Locations((30.5578056723, 0)):
            Circle(F11_R)
    extrude(amount=-F12_DEPTH, mode=Mode.SUBTRACT)

    # F13
    f13_edges = [f7.edges().sort_by_distance(p)[0] for p in [
        (35.305969, 4.970424, -23),
    ]]
    fillet(f13_edges, radius=F13_R)

    # F14
    f14_edges = [f7.edges().sort_by_distance(p)[0] for p in [
        (35.305969, -5.1, -23),
    ]]
    fillet(f14_edges, radius=F14_R)


solid = Compound([f1.part, f7.part])
